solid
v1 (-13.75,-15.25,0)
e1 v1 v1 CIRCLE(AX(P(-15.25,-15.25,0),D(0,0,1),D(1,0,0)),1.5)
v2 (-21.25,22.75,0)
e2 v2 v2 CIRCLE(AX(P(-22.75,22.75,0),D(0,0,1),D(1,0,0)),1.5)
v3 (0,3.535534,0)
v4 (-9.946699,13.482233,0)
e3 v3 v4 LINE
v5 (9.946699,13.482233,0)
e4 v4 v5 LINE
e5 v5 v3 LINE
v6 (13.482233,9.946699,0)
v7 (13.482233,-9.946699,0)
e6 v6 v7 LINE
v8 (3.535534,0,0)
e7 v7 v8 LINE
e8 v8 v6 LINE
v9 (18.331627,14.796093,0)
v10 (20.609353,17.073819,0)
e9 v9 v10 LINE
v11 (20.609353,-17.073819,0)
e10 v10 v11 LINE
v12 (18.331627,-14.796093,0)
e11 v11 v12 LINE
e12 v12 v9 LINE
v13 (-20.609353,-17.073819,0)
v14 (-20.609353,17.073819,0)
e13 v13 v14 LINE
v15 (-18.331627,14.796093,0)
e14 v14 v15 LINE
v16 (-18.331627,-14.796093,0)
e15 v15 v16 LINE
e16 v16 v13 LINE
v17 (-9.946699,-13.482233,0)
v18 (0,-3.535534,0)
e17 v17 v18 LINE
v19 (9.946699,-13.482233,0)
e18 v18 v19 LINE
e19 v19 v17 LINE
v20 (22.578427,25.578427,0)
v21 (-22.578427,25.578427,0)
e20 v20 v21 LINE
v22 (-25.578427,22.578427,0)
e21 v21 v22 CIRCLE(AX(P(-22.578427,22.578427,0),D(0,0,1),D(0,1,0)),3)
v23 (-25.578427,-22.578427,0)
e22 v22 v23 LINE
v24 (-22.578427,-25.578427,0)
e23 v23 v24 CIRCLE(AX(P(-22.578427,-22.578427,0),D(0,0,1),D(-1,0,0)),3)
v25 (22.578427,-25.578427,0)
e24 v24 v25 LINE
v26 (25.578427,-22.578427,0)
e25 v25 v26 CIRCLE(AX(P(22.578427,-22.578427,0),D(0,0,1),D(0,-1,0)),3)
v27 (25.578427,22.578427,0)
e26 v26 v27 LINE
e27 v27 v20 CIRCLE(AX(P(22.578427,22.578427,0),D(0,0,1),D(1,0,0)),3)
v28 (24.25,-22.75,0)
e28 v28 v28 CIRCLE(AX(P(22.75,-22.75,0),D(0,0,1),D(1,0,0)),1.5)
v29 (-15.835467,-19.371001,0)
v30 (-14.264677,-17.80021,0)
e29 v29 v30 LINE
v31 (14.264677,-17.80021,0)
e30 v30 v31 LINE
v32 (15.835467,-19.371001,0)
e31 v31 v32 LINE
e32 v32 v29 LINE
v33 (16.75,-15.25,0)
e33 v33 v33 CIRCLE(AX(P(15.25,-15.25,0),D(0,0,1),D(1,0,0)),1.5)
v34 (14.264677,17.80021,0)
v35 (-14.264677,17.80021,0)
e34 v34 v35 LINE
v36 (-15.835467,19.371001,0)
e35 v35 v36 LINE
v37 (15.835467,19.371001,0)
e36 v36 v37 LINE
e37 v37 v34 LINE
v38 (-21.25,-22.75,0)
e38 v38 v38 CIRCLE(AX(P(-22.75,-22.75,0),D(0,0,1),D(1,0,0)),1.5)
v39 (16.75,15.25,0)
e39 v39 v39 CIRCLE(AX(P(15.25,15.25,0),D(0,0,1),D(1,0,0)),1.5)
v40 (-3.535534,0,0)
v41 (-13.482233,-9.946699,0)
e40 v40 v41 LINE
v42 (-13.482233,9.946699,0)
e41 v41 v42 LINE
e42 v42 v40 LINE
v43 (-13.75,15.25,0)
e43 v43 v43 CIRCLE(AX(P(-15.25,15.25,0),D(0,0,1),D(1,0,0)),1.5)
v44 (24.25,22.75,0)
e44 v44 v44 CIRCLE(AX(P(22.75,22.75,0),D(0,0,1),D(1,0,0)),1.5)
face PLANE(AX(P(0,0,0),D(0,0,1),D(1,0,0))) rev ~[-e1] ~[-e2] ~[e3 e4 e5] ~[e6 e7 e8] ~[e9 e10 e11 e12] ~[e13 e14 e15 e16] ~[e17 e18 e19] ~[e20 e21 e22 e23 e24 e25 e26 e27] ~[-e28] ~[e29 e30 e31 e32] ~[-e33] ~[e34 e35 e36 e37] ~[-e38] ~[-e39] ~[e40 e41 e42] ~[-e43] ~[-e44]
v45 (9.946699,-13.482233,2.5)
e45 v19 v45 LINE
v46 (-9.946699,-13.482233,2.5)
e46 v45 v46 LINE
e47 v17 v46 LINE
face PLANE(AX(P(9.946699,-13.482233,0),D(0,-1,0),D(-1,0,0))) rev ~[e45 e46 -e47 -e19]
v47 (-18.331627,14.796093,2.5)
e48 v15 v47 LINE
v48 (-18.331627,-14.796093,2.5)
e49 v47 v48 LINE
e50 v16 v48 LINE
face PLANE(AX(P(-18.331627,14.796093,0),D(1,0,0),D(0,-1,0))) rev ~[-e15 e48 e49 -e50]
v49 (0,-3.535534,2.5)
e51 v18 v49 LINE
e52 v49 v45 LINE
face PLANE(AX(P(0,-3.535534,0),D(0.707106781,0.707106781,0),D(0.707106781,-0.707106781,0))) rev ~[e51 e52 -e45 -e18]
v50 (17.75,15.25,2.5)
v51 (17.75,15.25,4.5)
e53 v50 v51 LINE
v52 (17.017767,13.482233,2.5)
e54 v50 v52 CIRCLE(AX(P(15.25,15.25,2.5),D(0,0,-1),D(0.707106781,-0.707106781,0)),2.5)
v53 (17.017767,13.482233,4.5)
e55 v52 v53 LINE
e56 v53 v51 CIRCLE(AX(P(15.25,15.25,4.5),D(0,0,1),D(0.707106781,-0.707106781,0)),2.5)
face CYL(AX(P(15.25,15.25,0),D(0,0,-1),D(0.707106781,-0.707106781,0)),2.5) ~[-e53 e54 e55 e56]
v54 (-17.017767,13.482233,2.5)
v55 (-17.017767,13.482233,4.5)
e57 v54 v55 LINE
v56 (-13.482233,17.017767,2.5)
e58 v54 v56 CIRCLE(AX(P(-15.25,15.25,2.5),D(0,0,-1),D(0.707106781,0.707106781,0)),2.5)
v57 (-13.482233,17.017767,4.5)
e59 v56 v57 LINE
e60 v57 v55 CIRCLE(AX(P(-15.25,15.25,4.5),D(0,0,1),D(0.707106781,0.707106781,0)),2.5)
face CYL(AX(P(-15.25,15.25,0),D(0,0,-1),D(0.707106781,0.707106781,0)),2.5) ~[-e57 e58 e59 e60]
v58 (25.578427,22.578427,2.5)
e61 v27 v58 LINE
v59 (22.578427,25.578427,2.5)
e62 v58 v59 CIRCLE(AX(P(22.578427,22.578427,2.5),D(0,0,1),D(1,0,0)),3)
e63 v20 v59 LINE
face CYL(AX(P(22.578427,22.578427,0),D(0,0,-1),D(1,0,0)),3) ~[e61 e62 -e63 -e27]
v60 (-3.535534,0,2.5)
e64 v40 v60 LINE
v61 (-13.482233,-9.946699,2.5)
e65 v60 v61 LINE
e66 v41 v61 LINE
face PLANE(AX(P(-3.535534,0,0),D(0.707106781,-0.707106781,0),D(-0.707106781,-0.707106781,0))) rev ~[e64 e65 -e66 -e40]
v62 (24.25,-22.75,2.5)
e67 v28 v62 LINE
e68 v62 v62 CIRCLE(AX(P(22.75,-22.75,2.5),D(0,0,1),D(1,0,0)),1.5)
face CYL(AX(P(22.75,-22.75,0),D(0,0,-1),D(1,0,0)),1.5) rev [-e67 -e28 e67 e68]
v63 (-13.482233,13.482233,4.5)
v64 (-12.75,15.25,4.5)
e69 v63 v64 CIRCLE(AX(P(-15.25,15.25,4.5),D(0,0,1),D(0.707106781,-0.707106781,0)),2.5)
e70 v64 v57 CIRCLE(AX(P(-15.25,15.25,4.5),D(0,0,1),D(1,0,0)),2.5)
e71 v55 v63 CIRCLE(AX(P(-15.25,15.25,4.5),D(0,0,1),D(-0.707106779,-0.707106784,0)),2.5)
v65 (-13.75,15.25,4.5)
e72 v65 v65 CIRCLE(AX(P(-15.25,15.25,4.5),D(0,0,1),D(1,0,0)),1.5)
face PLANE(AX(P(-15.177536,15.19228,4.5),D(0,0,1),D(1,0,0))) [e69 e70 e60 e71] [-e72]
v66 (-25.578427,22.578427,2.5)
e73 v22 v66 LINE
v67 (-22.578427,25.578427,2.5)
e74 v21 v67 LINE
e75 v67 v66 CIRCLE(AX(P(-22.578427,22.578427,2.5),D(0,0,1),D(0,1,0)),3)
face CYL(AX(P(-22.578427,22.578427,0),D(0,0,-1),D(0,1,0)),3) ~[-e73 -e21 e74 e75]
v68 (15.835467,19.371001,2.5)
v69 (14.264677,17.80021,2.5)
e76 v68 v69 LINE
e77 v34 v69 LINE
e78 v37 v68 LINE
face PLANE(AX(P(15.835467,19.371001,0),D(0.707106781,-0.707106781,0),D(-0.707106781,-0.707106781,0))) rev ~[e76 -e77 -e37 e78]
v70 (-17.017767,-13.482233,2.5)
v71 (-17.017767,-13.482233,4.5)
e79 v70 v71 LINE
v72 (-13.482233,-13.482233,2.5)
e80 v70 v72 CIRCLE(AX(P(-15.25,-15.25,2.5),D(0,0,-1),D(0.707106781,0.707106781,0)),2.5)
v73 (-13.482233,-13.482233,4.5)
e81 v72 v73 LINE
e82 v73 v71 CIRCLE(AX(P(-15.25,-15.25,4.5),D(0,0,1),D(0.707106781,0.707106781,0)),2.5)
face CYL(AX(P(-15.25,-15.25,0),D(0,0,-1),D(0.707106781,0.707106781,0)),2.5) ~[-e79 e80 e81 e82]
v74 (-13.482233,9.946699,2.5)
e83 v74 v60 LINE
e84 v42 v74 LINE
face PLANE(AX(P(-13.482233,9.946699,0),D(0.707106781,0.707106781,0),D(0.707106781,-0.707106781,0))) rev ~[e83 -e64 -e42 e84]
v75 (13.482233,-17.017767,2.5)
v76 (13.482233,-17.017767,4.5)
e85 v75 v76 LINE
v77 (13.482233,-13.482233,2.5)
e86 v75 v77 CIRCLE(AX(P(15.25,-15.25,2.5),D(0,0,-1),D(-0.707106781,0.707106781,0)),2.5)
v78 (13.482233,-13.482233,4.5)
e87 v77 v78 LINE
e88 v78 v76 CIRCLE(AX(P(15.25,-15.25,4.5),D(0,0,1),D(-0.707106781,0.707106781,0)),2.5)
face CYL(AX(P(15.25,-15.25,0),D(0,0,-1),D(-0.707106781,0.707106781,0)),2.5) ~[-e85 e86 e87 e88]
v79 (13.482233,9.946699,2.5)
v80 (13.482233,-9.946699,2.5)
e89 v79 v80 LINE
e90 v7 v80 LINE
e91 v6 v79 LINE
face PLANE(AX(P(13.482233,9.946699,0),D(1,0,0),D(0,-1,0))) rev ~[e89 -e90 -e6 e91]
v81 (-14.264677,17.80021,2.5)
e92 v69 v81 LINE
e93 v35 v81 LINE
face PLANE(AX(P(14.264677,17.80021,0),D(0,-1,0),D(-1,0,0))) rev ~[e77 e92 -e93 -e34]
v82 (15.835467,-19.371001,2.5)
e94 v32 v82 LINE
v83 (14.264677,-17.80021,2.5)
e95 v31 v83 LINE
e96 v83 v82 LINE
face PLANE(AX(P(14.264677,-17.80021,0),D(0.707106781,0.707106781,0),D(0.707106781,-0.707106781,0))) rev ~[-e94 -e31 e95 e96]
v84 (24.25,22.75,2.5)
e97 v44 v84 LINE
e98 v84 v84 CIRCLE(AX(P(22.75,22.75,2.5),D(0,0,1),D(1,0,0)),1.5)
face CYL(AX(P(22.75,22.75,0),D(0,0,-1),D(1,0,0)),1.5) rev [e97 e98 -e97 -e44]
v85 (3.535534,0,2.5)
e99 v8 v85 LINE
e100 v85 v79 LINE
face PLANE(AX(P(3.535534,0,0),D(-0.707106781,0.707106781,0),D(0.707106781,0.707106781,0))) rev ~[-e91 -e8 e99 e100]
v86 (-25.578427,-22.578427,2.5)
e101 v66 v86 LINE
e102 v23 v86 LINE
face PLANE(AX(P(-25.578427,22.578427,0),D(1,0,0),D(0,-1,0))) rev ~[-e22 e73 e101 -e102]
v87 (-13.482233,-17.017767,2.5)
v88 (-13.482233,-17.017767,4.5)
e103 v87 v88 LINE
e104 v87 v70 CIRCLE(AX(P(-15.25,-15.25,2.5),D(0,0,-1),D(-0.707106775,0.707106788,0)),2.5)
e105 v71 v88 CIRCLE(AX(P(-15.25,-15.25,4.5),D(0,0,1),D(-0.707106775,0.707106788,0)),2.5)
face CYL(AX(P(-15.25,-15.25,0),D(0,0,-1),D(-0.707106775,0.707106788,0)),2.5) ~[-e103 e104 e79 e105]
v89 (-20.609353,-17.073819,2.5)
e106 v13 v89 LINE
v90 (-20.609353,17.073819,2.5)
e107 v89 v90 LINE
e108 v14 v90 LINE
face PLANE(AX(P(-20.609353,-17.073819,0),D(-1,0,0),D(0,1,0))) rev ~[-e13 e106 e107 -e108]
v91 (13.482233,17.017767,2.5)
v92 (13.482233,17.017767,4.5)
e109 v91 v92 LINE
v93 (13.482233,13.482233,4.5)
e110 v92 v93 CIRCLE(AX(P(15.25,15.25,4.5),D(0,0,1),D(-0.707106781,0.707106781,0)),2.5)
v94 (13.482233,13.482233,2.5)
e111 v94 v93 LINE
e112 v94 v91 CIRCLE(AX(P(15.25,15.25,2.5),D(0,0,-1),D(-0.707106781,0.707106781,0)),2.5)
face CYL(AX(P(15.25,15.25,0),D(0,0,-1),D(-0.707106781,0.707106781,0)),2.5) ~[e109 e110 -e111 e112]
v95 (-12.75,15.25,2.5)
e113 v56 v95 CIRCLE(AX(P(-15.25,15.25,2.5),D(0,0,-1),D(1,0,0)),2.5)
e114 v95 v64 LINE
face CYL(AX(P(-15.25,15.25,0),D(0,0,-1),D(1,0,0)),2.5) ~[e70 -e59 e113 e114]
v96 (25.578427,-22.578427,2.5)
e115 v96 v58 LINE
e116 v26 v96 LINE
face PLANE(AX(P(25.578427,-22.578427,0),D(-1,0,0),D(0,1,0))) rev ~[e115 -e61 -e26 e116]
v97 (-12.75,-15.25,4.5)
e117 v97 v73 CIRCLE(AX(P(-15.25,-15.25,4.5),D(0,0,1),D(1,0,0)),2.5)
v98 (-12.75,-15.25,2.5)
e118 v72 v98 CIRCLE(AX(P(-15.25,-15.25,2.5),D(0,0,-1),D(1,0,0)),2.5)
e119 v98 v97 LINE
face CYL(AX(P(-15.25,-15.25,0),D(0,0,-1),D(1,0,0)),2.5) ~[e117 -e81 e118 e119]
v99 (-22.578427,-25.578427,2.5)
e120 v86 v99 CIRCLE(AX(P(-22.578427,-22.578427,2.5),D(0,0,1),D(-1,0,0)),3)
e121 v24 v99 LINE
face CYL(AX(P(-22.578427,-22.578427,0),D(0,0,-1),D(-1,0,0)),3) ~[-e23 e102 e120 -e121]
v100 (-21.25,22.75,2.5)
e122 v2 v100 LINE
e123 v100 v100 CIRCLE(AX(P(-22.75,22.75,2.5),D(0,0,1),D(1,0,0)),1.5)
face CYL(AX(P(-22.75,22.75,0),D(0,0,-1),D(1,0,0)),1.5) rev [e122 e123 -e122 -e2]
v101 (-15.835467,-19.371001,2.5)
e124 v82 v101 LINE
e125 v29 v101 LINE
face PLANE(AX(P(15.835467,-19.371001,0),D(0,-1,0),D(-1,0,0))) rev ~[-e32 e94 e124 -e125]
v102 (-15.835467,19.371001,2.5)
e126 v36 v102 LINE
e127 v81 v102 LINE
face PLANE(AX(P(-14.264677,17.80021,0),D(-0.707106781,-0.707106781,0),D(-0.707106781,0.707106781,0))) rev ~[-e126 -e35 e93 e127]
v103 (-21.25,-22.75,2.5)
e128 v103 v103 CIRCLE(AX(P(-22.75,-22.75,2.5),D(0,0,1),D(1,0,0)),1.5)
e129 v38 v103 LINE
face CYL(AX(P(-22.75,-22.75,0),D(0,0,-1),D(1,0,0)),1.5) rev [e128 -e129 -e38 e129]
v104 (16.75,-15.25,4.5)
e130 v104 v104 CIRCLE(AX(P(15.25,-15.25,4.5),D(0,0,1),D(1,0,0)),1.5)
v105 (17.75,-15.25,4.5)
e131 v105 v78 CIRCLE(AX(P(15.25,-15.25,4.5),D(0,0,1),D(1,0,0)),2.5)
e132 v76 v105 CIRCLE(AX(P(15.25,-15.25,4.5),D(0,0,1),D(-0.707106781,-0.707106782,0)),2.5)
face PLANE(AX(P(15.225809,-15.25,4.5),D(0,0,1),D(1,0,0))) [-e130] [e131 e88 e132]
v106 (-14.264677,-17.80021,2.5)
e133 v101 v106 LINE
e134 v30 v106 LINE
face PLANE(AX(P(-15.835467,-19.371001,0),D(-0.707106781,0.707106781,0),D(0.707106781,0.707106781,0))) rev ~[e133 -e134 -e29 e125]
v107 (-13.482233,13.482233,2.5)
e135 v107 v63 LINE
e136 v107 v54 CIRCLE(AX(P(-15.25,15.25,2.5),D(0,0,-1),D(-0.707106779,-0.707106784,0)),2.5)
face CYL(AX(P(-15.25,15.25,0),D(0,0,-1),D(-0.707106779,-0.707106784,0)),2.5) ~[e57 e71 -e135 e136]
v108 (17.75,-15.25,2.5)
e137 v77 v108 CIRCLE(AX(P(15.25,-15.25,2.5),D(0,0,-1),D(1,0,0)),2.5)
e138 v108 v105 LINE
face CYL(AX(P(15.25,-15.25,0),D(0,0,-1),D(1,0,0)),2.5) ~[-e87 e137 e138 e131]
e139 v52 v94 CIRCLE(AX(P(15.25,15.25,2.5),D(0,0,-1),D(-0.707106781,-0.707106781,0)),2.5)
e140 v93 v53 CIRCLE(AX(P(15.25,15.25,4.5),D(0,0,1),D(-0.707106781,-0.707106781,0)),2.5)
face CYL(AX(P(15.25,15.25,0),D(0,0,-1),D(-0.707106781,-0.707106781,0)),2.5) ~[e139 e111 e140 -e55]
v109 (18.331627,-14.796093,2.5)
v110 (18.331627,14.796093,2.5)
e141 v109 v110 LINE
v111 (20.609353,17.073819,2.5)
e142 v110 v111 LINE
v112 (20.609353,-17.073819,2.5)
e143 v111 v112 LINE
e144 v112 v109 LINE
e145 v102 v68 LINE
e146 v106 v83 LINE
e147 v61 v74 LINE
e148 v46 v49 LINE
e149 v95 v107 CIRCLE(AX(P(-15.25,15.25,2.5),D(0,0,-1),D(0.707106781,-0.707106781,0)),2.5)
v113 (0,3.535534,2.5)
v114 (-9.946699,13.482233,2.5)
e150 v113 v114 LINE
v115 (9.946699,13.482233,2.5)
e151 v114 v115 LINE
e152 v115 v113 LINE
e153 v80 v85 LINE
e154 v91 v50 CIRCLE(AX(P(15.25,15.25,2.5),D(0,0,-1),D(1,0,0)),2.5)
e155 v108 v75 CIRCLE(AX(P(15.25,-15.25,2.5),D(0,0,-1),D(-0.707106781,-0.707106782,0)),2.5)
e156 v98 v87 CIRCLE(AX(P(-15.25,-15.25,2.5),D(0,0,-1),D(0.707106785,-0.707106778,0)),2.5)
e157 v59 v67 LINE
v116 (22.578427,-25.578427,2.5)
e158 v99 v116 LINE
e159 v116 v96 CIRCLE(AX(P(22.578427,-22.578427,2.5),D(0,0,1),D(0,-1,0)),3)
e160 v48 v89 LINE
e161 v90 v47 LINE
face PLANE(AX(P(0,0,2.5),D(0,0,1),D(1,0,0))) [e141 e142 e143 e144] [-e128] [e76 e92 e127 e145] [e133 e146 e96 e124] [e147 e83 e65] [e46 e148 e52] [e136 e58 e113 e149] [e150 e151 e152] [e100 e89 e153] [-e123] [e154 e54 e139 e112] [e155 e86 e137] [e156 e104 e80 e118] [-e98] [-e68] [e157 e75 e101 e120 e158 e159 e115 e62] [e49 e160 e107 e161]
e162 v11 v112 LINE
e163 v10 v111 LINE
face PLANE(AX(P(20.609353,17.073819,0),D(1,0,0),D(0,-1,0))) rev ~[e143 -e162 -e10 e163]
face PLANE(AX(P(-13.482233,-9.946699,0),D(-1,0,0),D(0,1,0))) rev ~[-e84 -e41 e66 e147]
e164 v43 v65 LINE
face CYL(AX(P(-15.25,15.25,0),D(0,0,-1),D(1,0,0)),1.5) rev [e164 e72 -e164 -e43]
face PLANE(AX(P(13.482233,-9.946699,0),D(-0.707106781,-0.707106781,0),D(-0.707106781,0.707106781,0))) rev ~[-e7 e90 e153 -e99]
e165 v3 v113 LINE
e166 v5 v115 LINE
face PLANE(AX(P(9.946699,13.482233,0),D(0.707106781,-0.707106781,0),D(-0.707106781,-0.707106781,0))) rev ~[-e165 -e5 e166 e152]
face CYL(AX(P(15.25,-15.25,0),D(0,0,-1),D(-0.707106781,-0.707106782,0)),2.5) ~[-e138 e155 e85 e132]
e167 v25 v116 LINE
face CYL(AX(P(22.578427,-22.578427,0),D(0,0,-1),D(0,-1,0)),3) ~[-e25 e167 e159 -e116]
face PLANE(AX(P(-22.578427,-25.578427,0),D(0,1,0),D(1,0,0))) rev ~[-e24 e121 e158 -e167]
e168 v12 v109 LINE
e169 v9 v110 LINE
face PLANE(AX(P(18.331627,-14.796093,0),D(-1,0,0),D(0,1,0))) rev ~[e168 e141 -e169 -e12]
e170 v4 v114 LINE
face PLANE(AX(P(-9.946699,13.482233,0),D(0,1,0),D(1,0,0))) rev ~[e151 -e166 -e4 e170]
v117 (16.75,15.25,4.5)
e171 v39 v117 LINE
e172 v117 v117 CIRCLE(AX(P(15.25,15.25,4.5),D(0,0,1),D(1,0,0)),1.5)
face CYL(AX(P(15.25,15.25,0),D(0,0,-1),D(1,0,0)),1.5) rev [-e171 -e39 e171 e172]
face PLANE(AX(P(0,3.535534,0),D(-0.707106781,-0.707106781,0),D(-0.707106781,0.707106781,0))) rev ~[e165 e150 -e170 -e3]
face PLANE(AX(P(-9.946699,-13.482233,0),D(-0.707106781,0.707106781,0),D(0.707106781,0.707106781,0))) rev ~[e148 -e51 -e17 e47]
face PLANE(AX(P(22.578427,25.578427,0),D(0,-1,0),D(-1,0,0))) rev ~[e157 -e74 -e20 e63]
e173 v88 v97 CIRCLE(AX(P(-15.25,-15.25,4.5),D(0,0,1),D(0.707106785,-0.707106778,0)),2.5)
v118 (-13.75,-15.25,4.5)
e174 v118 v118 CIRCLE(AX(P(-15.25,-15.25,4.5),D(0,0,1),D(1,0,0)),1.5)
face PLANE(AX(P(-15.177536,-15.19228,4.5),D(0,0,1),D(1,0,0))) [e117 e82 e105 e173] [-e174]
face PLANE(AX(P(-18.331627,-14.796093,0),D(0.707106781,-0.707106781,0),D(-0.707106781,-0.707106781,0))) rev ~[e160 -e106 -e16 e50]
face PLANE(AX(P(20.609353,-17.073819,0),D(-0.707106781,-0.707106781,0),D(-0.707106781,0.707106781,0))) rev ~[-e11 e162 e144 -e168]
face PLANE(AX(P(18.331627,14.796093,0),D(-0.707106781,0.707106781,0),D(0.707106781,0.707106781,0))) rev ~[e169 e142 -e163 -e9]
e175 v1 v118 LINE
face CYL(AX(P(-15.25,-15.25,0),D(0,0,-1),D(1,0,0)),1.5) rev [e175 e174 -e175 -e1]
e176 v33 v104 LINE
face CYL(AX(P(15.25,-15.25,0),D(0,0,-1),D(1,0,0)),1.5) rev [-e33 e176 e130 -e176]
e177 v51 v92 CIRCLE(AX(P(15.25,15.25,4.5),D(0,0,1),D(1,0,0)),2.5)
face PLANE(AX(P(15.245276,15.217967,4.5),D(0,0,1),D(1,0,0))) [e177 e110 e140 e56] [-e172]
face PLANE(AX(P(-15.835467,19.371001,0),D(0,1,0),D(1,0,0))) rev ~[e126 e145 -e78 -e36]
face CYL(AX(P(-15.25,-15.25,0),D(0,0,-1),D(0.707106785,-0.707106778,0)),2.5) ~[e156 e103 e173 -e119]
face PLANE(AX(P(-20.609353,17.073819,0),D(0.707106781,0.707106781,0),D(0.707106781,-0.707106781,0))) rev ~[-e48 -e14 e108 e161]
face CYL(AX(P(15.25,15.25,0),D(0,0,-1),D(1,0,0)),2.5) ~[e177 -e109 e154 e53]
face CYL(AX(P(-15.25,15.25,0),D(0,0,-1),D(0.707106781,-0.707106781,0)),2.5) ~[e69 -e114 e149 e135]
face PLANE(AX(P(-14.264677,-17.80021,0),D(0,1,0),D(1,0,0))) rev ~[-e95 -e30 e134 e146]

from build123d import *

# Parameters (mm, degrees)
F0_R     = 1.5
F1_DEPTH = 2.5
F2_DEPTH = 4.5


with BuildPart() as f1:
    # F0 (on Top) → F1 (new body)
    with BuildSketch(Plane.XY):
        with BuildLine():
            Line((22.5784271247, 25.5784271247), (-22.5784271247, 25.5784271247))
            ThreePointArc((-22.5784271247, 25.5784271247), (-24.6997474683, 24.6997474683), (-25.5784271247, 22.5784271247))
            Line((-25.5784271247, 22.5784271247), (-25.5784271247, -22.5784271247))
            ThreePointArc((-25.5784271247, -22.5784271247), (-24.6997474683, -24.6997474683), (-22.5784271247, -25.5784271247))
            Line((-22.5784271247, -25.5784271247), (22.5784271247, -25.5784271247))
            ThreePointArc((22.5784271247, -25.5784271247), (24.6997474683, -24.6997474683), (25.5784271247, -22.5784271247))
            Line((25.5784271247, -22.5784271247), (25.5784271247, 22.5784271247))
            ThreePointArc((25.5784271247, 22.5784271247), (24.6997474683, 24.6997474683), (22.5784271247, 25.5784271247))
        make_face()
        with Locations((-22.75, -22.75)):
            Circle(F0_R, mode=Mode.SUBTRACT)
        with Locations((22.75, -22.75)):
            Circle(F0_R, mode=Mode.SUBTRACT)
        Polygon((20.609353269, 17.0738193631), (20.609353269, -17.0738193631), (20.609353269, -19.3710013949), (15.835467489, -19.3710013949), (-15.835467489, -19.3710013949), (-20.609353269, -19.3710013949), (-20.609353269, -17.0738193631), (-20.609353269, 17.0738193631), (-20.609353269, 19.3710013949), (-15.835467489, 19.3710013949), (15.835467489, 19.3710013949), (20.609353269, 19.3710013949), align=None, mode=Mode.SUBTRACT)
        with Locations((-22.75, 22.75)):
            Circle(F0_R, mode=Mode.SUBTRACT)
        with Locations((22.75, 22.75)):
            Circle(F0_R, mode=Mode.SUBTRACT)
        Polygon((13.482233047, 9.9466991411), (13.482233047, -9.9466991411), (17.0177669094, -13.4822330035), (18.3316272948, -14.7960933889), (18.3316272948, 14.7960933889), (17.017766953, 13.482233047), align=None)
        Polygon((-17.0177669365, -13.4822330306), (-13.482233047, -9.9466991411), (-13.482233047, 9.9466991411), (-17.0177669469, 13.482233041), (-18.3316272948, 14.7960933889), (-18.3316272948, -14.7960933889), align=None)
        Polygon((-9.9466991411, 13.482233047), (9.9466991411, 13.482233047), (13.482233047, 17.017766953), (14.2646765199, 17.8002104258), (-14.2646765199, 17.8002104258), (-13.482233047, 17.017766953), align=None)
        Polygon((13.4822330479, -17.0177669538), (9.9466991411, -13.482233047), (-9.9466991411, -13.482233047), (-13.4822330382, -17.0177669441), (-14.2646765199, -17.8002104258), (14.2646765199, -17.8002104258), align=None)
        Polygon((-13.482233047, 9.9466991411), (-3.5355339059, 0), (0, 3.5355339059), (-9.9466991411, 13.482233047), (-13.482233047, 13.482233047), align=None)
        Polygon((9.9466991411, -13.482233047), (13.482233047, -13.482233047), (13.482233047, -9.9466991411), (3.5355339059, 0), (0, -3.5355339059), align=None)
        Polygon((3.5355339059, 0), (13.482233047, 9.9466991411), (13.482233047, 13.482233047), (9.9466991411, 13.482233047), (0, 3.5355339059), align=None)
        Polygon((-13.482233047, -13.482233047), (-9.9466991411, -13.482233047), (0, -3.5355339059), (-3.5355339059, 0), (-13.482233047, -9.9466991411), align=None)
        Polygon((-3.5355339059, 0), (0, -3.5355339059), (3.5355339059, 0), (0, 3.5355339059), align=None)
        with BuildLine():
            ThreePointArc((-17.0177669469, 13.482233041), (-15.2499999957, 12.75), (-13.482233047, 13.482233047))
            ThreePointArc((-13.482233047, 13.482233047), (-12.9403011687, 14.2932914191), (-12.75, 15.25))
            ThreePointArc((-12.75, 15.25), (-12.9403011687, 16.2067085809), (-13.482233047, 17.017766953))
            ThreePointArc((-13.482233047, 17.017766953), (-17.017766956, 17.01776695), (-17.0177669469, 13.482233041))
        make_face()
        with Locations((-15.25, 15.25)):
            Circle(F0_R, mode=Mode.SUBTRACT)
        with BuildLine():
            ThreePointArc((13.482233047, 17.017766953), (12.75, 15.25), (13.482233047, 13.482233047))
            ThreePointArc((13.482233047, 13.482233047), (15.25, 12.75), (17.017766953, 13.482233047))
            ThreePointArc((17.017766953, 13.482233047), (17.5596988313, 14.2932914191), (17.75, 15.25))
            ThreePointArc((17.75, 15.25), (16.2067085809, 17.5596988313), (13.482233047, 17.017766953))
        make_face()
        with Locations((15.25, 15.25)):
            Circle(F0_R, mode=Mode.SUBTRACT)
        with BuildLine():
            ThreePointArc((17.0177669094, -13.4822330035), (15.2499999692, -12.75), (13.482233047, -13.482233047))
            ThreePointArc((13.482233047, -13.482233047), (12.75, -15.2500000006), (13.4822330479, -17.0177669538))
            ThreePointArc((13.4822330479, -17.0177669538), (16.2067085815, -17.559698831), (17.75, -15.25))
            ThreePointArc((17.75, -15.25), (17.5596988195, -14.2932913907), (17.0177669094, -13.4822330035))
        make_face()
        with Locations((15.25, -15.25)):
            Circle(F0_R, mode=Mode.SUBTRACT)
        with BuildLine():
            ThreePointArc((-12.75, -15.25), (-12.9403011687, -14.2932914191), (-13.482233047, -13.482233047))
            ThreePointArc((-13.482233047, -13.482233047), (-15.2499999884, -12.75), (-17.0177669365, -13.4822330306))
            ThreePointArc((-17.0177669365, -13.4822330306), (-17.0177669568, -17.0177669492), (-13.4822330382, -17.0177669441))
            ThreePointArc((-13.4822330382, -17.0177669441), (-12.9403011663, -16.2067085751), (-12.75, -15.25))
        make_face()
        with Locations((-15.25, -15.25)):
            Circle(F0_R, mode=Mode.SUBTRACT)
        Polygon((-20.609353269, 17.0738193631), (-18.3316272948, 14.7960933889), (-18.3316272948, 17.8002104258), (-14.2646765199, 17.8002104258), (-15.835467489, 19.3710013949), (-20.609353269, 19.3710013949), align=None)
        Polygon((18.3316272948, 17.8002104258), (18.3316272948, 14.7960933889), (20.609353269, 17.0738193631), (20.609353269, 19.3710013949), (15.835467489, 19.3710013949), (14.2646765199, 17.8002104258), align=None)
        Polygon((-15.835467489, -19.3710013949), (-14.2646765199, -17.8002104258), (-18.3316272948, -17.8002104258), (-18.3316272948, -14.7960933889), (-20.609353269, -17.0738193631), (-20.609353269, -19.3710013949), align=None)
        Polygon((20.609353269, -17.0738193631), (18.3316272948, -14.7960933889), (18.3316272948, -17.8002104258), (14.2646765199, -17.8002104258), (15.835467489, -19.3710013949), (20.609353269, -19.3710013949), align=None)
        with BuildLine():
            Line((-13.482233047, 13.482233047), (-9.9466991411, 13.482233047))
            Line((-9.9466991411, 13.482233047), (-13.482233047, 17.017766953))
            ThreePointArc((-13.482233047, 17.017766953), (-12.9403011687, 16.2067085809), (-12.75, 15.25))
            ThreePointArc((-12.75, 15.25), (-12.9403011687, 14.2932914191), (-13.482233047, 13.482233047))
        make_face()
        with BuildLine():
            Line((-17.0177669469, 13.482233041), (-13.482233047, 9.9466991411))
            Line((-13.482233047, 9.9466991411), (-13.482233047, 13.482233047))
            ThreePointArc((-13.482233047, 13.482233047), (-15.2499999957, 12.75), (-17.0177669469, 13.482233041))
        make_face()
        with BuildLine():
            Line((9.9466991411, 13.482233047), (13.482233047, 13.482233047))
            ThreePointArc((13.482233047, 13.482233047), (12.75, 15.25), (13.482233047, 17.017766953))
            Line((13.482233047, 17.017766953), (9.9466991411, 13.482233047))
        make_face()
        with BuildLine():
            Line((13.482233047, 13.482233047), (13.482233047, 9.9466991411))
            Line((13.482233047, 9.9466991411), (17.017766953, 13.482233047))
            ThreePointArc((17.017766953, 13.482233047), (15.25, 12.75), (13.482233047, 13.482233047))
        make_face()
        with BuildLine():
            Line((13.482233047, -9.9466991411), (13.482233047, -13.482233047))
            ThreePointArc((13.482233047, -13.482233047), (15.2499999692, -12.75), (17.0177669094, -13.4822330035))
            Line((17.0177669094, -13.4822330035), (13.482233047, -9.9466991411))
        make_face()
        with BuildLine():
            ThreePointArc((13.4822330479, -17.0177669538), (12.75, -15.2500000006), (13.482233047, -13.482233047))
            Line((13.482233047, -13.482233047), (9.9466991411, -13.482233047))
            Line((9.9466991411, -13.482233047), (13.4822330479, -17.0177669538))
        make_face()
        with BuildLine():
            Line((-13.4822330382, -17.0177669441), (-9.9466991411, -13.482233047))
            Line((-9.9466991411, -13.482233047), (-13.482233047, -13.482233047))
            ThreePointArc((-13.482233047, -13.482233047), (-12.9403011687, -14.2932914191), (-12.75, -15.25))
            ThreePointArc((-12.75, -15.25), (-12.9403011663, -16.2067085751), (-13.4822330382, -17.0177669441))
        make_face()
        with BuildLine():
            ThreePointArc((-17.0177669365, -13.4822330306), (-15.2499999884, -12.75), (-13.482233047, -13.482233047))
            Line((-13.482233047, -13.482233047), (-13.482233047, -9.9466991411))
            Line((-13.482233047, -9.9466991411), (-17.0177669365, -13.4822330306))
        make_face()
        with BuildLine():
            Line((-18.3316272948, 14.7960933889), (-17.0177669469, 13.482233041))
            ThreePointArc((-17.0177669469, 13.482233041), (-17.017766956, 17.01776695), (-13.482233047, 17.017766953))
            Line((-13.482233047, 17.017766953), (-14.2646765199, 17.8002104258))
            Line((-14.2646765199, 17.8002104258), (-18.3316272948, 17.8002104258))
            Line((-18.3316272948, 17.8002104258), (-18.3316272948, 14.7960933889))
        make_face()
        with BuildLine():
            ThreePointArc((17.75, 15.25), (17.5596988313, 14.2932914191), (17.017766953, 13.482233047))
            Line((17.017766953, 13.482233047), (18.3316272948, 14.7960933889))
            Line((18.3316272948, 14.7960933889), (18.3316272948, 17.8002104258))
            Line((18.3316272948, 17.8002104258), (14.2646765199, 17.8002104258))
            Line((14.2646765199, 17.8002104258), (13.482233047, 17.017766953))
            ThreePointArc((13.482233047, 17.017766953), (16.2067085809, 17.5596988313), (17.75, 15.25))
        make_face()
        with BuildLine():
            Line((18.3316272948, -14.7960933889), (17.0177669094, -13.4822330035))
            ThreePointArc((17.0177669094, -13.4822330035), (17.5596988195, -14.2932913907), (17.75, -15.25))
            ThreePointArc((17.75, -15.25), (16.2067085815, -17.559698831), (13.4822330479, -17.0177669538))
            Line((13.4822330479, -17.0177669538), (14.2646765199, -17.8002104258))
            Line((14.2646765199, -17.8002104258), (18.3316272948, -17.8002104258))
            Line((18.3316272948, -17.8002104258), (18.3316272948, -14.7960933889))
        make_face()
        with BuildLine():
            Line((-14.2646765199, -17.8002104258), (-13.4822330382, -17.0177669441))
            ThreePointArc((-13.4822330382, -17.0177669441), (-17.0177669568, -17.0177669492), (-17.0177669365, -13.4822330306))
            Line((-17.0177669365, -13.4822330306), (-18.3316272948, -14.7960933889))
            Line((-18.3316272948, -14.7960933889), (-18.3316272948, -17.8002104258))
            Line((-18.3316272948, -17.8002104258), (-14.2646765199, -17.8002104258))
        make_face()
    extrude(amount=F1_DEPTH)

    # F0 (on Top) → F2 (join)
    with BuildSketch(Plane.XY):
        with BuildLine():
            ThreePointArc((-12.75, -15.25), (-12.9403011687, -14.2932914191), (-13.482233047, -13.482233047))
            ThreePointArc((-13.482233047, -13.482233047), (-15.2499999884, -12.75), (-17.0177669365, -13.4822330306))
            ThreePointArc((-17.0177669365, -13.4822330306), (-17.0177669568, -17.0177669492), (-13.4822330382, -17.0177669441))
            ThreePointArc((-13.4822330382, -17.0177669441), (-12.9403011663, -16.2067085751), (-12.75, -15.25))
        make_face()
        with Locations((-15.25, -15.25)):
            Circle(F0_R, mode=Mode.SUBTRACT)
        with BuildLine():
            ThreePointArc((-17.0177669469, 13.482233041), (-15.2499999957, 12.75), (-13.482233047, 13.482233047))
            ThreePointArc((-13.482233047, 13.482233047), (-12.9403011687, 14.2932914191), (-12.75, 15.25))
            ThreePointArc((-12.75, 15.25), (-12.9403011687, 16.2067085809), (-13.482233047, 17.017766953))
            ThreePointArc((-13.482233047, 17.017766953), (-17.017766956, 17.01776695), (-17.0177669469, 13.482233041))
        make_face()
        with Locations((-15.25, 15.25)):
            Circle(F0_R, mode=Mode.SUBTRACT)
        with BuildLine():
            ThreePointArc((17.0177669094, -13.4822330035), (15.2499999692, -12.75), (13.482233047, -13.482233047))
            ThreePointArc((13.482233047, -13.482233047), (12.75, -15.2500000006), (13.4822330479, -17.0177669538))
            ThreePointArc((13.4822330479, -17.0177669538), (16.2067085815, -17.559698831), (17.75, -15.25))
            ThreePointArc((17.75, -15.25), (17.5596988195, -14.2932913907), (17.0177669094, -13.4822330035))
        make_face()
        with Locations((15.25, -15.25)):
            Circle(F0_R, mode=Mode.SUBTRACT)
        with BuildLine():
            ThreePointArc((13.482233047, 17.017766953), (12.75, 15.25), (13.482233047, 13.482233047))
            ThreePointArc((13.482233047, 13.482233047), (15.25, 12.75), (17.017766953, 13.482233047))
            ThreePointArc((17.017766953, 13.482233047), (17.5596988313, 14.2932914191), (17.75, 15.25))
            ThreePointArc((17.75, 15.25), (16.2067085809, 17.5596988313), (13.482233047, 17.017766953))
        make_face()
        with Locations((15.25, 15.25)):
            Circle(F0_R, mode=Mode.SUBTRACT)
    extrude(amount=F2_DEPTH)


solid = f1.part
